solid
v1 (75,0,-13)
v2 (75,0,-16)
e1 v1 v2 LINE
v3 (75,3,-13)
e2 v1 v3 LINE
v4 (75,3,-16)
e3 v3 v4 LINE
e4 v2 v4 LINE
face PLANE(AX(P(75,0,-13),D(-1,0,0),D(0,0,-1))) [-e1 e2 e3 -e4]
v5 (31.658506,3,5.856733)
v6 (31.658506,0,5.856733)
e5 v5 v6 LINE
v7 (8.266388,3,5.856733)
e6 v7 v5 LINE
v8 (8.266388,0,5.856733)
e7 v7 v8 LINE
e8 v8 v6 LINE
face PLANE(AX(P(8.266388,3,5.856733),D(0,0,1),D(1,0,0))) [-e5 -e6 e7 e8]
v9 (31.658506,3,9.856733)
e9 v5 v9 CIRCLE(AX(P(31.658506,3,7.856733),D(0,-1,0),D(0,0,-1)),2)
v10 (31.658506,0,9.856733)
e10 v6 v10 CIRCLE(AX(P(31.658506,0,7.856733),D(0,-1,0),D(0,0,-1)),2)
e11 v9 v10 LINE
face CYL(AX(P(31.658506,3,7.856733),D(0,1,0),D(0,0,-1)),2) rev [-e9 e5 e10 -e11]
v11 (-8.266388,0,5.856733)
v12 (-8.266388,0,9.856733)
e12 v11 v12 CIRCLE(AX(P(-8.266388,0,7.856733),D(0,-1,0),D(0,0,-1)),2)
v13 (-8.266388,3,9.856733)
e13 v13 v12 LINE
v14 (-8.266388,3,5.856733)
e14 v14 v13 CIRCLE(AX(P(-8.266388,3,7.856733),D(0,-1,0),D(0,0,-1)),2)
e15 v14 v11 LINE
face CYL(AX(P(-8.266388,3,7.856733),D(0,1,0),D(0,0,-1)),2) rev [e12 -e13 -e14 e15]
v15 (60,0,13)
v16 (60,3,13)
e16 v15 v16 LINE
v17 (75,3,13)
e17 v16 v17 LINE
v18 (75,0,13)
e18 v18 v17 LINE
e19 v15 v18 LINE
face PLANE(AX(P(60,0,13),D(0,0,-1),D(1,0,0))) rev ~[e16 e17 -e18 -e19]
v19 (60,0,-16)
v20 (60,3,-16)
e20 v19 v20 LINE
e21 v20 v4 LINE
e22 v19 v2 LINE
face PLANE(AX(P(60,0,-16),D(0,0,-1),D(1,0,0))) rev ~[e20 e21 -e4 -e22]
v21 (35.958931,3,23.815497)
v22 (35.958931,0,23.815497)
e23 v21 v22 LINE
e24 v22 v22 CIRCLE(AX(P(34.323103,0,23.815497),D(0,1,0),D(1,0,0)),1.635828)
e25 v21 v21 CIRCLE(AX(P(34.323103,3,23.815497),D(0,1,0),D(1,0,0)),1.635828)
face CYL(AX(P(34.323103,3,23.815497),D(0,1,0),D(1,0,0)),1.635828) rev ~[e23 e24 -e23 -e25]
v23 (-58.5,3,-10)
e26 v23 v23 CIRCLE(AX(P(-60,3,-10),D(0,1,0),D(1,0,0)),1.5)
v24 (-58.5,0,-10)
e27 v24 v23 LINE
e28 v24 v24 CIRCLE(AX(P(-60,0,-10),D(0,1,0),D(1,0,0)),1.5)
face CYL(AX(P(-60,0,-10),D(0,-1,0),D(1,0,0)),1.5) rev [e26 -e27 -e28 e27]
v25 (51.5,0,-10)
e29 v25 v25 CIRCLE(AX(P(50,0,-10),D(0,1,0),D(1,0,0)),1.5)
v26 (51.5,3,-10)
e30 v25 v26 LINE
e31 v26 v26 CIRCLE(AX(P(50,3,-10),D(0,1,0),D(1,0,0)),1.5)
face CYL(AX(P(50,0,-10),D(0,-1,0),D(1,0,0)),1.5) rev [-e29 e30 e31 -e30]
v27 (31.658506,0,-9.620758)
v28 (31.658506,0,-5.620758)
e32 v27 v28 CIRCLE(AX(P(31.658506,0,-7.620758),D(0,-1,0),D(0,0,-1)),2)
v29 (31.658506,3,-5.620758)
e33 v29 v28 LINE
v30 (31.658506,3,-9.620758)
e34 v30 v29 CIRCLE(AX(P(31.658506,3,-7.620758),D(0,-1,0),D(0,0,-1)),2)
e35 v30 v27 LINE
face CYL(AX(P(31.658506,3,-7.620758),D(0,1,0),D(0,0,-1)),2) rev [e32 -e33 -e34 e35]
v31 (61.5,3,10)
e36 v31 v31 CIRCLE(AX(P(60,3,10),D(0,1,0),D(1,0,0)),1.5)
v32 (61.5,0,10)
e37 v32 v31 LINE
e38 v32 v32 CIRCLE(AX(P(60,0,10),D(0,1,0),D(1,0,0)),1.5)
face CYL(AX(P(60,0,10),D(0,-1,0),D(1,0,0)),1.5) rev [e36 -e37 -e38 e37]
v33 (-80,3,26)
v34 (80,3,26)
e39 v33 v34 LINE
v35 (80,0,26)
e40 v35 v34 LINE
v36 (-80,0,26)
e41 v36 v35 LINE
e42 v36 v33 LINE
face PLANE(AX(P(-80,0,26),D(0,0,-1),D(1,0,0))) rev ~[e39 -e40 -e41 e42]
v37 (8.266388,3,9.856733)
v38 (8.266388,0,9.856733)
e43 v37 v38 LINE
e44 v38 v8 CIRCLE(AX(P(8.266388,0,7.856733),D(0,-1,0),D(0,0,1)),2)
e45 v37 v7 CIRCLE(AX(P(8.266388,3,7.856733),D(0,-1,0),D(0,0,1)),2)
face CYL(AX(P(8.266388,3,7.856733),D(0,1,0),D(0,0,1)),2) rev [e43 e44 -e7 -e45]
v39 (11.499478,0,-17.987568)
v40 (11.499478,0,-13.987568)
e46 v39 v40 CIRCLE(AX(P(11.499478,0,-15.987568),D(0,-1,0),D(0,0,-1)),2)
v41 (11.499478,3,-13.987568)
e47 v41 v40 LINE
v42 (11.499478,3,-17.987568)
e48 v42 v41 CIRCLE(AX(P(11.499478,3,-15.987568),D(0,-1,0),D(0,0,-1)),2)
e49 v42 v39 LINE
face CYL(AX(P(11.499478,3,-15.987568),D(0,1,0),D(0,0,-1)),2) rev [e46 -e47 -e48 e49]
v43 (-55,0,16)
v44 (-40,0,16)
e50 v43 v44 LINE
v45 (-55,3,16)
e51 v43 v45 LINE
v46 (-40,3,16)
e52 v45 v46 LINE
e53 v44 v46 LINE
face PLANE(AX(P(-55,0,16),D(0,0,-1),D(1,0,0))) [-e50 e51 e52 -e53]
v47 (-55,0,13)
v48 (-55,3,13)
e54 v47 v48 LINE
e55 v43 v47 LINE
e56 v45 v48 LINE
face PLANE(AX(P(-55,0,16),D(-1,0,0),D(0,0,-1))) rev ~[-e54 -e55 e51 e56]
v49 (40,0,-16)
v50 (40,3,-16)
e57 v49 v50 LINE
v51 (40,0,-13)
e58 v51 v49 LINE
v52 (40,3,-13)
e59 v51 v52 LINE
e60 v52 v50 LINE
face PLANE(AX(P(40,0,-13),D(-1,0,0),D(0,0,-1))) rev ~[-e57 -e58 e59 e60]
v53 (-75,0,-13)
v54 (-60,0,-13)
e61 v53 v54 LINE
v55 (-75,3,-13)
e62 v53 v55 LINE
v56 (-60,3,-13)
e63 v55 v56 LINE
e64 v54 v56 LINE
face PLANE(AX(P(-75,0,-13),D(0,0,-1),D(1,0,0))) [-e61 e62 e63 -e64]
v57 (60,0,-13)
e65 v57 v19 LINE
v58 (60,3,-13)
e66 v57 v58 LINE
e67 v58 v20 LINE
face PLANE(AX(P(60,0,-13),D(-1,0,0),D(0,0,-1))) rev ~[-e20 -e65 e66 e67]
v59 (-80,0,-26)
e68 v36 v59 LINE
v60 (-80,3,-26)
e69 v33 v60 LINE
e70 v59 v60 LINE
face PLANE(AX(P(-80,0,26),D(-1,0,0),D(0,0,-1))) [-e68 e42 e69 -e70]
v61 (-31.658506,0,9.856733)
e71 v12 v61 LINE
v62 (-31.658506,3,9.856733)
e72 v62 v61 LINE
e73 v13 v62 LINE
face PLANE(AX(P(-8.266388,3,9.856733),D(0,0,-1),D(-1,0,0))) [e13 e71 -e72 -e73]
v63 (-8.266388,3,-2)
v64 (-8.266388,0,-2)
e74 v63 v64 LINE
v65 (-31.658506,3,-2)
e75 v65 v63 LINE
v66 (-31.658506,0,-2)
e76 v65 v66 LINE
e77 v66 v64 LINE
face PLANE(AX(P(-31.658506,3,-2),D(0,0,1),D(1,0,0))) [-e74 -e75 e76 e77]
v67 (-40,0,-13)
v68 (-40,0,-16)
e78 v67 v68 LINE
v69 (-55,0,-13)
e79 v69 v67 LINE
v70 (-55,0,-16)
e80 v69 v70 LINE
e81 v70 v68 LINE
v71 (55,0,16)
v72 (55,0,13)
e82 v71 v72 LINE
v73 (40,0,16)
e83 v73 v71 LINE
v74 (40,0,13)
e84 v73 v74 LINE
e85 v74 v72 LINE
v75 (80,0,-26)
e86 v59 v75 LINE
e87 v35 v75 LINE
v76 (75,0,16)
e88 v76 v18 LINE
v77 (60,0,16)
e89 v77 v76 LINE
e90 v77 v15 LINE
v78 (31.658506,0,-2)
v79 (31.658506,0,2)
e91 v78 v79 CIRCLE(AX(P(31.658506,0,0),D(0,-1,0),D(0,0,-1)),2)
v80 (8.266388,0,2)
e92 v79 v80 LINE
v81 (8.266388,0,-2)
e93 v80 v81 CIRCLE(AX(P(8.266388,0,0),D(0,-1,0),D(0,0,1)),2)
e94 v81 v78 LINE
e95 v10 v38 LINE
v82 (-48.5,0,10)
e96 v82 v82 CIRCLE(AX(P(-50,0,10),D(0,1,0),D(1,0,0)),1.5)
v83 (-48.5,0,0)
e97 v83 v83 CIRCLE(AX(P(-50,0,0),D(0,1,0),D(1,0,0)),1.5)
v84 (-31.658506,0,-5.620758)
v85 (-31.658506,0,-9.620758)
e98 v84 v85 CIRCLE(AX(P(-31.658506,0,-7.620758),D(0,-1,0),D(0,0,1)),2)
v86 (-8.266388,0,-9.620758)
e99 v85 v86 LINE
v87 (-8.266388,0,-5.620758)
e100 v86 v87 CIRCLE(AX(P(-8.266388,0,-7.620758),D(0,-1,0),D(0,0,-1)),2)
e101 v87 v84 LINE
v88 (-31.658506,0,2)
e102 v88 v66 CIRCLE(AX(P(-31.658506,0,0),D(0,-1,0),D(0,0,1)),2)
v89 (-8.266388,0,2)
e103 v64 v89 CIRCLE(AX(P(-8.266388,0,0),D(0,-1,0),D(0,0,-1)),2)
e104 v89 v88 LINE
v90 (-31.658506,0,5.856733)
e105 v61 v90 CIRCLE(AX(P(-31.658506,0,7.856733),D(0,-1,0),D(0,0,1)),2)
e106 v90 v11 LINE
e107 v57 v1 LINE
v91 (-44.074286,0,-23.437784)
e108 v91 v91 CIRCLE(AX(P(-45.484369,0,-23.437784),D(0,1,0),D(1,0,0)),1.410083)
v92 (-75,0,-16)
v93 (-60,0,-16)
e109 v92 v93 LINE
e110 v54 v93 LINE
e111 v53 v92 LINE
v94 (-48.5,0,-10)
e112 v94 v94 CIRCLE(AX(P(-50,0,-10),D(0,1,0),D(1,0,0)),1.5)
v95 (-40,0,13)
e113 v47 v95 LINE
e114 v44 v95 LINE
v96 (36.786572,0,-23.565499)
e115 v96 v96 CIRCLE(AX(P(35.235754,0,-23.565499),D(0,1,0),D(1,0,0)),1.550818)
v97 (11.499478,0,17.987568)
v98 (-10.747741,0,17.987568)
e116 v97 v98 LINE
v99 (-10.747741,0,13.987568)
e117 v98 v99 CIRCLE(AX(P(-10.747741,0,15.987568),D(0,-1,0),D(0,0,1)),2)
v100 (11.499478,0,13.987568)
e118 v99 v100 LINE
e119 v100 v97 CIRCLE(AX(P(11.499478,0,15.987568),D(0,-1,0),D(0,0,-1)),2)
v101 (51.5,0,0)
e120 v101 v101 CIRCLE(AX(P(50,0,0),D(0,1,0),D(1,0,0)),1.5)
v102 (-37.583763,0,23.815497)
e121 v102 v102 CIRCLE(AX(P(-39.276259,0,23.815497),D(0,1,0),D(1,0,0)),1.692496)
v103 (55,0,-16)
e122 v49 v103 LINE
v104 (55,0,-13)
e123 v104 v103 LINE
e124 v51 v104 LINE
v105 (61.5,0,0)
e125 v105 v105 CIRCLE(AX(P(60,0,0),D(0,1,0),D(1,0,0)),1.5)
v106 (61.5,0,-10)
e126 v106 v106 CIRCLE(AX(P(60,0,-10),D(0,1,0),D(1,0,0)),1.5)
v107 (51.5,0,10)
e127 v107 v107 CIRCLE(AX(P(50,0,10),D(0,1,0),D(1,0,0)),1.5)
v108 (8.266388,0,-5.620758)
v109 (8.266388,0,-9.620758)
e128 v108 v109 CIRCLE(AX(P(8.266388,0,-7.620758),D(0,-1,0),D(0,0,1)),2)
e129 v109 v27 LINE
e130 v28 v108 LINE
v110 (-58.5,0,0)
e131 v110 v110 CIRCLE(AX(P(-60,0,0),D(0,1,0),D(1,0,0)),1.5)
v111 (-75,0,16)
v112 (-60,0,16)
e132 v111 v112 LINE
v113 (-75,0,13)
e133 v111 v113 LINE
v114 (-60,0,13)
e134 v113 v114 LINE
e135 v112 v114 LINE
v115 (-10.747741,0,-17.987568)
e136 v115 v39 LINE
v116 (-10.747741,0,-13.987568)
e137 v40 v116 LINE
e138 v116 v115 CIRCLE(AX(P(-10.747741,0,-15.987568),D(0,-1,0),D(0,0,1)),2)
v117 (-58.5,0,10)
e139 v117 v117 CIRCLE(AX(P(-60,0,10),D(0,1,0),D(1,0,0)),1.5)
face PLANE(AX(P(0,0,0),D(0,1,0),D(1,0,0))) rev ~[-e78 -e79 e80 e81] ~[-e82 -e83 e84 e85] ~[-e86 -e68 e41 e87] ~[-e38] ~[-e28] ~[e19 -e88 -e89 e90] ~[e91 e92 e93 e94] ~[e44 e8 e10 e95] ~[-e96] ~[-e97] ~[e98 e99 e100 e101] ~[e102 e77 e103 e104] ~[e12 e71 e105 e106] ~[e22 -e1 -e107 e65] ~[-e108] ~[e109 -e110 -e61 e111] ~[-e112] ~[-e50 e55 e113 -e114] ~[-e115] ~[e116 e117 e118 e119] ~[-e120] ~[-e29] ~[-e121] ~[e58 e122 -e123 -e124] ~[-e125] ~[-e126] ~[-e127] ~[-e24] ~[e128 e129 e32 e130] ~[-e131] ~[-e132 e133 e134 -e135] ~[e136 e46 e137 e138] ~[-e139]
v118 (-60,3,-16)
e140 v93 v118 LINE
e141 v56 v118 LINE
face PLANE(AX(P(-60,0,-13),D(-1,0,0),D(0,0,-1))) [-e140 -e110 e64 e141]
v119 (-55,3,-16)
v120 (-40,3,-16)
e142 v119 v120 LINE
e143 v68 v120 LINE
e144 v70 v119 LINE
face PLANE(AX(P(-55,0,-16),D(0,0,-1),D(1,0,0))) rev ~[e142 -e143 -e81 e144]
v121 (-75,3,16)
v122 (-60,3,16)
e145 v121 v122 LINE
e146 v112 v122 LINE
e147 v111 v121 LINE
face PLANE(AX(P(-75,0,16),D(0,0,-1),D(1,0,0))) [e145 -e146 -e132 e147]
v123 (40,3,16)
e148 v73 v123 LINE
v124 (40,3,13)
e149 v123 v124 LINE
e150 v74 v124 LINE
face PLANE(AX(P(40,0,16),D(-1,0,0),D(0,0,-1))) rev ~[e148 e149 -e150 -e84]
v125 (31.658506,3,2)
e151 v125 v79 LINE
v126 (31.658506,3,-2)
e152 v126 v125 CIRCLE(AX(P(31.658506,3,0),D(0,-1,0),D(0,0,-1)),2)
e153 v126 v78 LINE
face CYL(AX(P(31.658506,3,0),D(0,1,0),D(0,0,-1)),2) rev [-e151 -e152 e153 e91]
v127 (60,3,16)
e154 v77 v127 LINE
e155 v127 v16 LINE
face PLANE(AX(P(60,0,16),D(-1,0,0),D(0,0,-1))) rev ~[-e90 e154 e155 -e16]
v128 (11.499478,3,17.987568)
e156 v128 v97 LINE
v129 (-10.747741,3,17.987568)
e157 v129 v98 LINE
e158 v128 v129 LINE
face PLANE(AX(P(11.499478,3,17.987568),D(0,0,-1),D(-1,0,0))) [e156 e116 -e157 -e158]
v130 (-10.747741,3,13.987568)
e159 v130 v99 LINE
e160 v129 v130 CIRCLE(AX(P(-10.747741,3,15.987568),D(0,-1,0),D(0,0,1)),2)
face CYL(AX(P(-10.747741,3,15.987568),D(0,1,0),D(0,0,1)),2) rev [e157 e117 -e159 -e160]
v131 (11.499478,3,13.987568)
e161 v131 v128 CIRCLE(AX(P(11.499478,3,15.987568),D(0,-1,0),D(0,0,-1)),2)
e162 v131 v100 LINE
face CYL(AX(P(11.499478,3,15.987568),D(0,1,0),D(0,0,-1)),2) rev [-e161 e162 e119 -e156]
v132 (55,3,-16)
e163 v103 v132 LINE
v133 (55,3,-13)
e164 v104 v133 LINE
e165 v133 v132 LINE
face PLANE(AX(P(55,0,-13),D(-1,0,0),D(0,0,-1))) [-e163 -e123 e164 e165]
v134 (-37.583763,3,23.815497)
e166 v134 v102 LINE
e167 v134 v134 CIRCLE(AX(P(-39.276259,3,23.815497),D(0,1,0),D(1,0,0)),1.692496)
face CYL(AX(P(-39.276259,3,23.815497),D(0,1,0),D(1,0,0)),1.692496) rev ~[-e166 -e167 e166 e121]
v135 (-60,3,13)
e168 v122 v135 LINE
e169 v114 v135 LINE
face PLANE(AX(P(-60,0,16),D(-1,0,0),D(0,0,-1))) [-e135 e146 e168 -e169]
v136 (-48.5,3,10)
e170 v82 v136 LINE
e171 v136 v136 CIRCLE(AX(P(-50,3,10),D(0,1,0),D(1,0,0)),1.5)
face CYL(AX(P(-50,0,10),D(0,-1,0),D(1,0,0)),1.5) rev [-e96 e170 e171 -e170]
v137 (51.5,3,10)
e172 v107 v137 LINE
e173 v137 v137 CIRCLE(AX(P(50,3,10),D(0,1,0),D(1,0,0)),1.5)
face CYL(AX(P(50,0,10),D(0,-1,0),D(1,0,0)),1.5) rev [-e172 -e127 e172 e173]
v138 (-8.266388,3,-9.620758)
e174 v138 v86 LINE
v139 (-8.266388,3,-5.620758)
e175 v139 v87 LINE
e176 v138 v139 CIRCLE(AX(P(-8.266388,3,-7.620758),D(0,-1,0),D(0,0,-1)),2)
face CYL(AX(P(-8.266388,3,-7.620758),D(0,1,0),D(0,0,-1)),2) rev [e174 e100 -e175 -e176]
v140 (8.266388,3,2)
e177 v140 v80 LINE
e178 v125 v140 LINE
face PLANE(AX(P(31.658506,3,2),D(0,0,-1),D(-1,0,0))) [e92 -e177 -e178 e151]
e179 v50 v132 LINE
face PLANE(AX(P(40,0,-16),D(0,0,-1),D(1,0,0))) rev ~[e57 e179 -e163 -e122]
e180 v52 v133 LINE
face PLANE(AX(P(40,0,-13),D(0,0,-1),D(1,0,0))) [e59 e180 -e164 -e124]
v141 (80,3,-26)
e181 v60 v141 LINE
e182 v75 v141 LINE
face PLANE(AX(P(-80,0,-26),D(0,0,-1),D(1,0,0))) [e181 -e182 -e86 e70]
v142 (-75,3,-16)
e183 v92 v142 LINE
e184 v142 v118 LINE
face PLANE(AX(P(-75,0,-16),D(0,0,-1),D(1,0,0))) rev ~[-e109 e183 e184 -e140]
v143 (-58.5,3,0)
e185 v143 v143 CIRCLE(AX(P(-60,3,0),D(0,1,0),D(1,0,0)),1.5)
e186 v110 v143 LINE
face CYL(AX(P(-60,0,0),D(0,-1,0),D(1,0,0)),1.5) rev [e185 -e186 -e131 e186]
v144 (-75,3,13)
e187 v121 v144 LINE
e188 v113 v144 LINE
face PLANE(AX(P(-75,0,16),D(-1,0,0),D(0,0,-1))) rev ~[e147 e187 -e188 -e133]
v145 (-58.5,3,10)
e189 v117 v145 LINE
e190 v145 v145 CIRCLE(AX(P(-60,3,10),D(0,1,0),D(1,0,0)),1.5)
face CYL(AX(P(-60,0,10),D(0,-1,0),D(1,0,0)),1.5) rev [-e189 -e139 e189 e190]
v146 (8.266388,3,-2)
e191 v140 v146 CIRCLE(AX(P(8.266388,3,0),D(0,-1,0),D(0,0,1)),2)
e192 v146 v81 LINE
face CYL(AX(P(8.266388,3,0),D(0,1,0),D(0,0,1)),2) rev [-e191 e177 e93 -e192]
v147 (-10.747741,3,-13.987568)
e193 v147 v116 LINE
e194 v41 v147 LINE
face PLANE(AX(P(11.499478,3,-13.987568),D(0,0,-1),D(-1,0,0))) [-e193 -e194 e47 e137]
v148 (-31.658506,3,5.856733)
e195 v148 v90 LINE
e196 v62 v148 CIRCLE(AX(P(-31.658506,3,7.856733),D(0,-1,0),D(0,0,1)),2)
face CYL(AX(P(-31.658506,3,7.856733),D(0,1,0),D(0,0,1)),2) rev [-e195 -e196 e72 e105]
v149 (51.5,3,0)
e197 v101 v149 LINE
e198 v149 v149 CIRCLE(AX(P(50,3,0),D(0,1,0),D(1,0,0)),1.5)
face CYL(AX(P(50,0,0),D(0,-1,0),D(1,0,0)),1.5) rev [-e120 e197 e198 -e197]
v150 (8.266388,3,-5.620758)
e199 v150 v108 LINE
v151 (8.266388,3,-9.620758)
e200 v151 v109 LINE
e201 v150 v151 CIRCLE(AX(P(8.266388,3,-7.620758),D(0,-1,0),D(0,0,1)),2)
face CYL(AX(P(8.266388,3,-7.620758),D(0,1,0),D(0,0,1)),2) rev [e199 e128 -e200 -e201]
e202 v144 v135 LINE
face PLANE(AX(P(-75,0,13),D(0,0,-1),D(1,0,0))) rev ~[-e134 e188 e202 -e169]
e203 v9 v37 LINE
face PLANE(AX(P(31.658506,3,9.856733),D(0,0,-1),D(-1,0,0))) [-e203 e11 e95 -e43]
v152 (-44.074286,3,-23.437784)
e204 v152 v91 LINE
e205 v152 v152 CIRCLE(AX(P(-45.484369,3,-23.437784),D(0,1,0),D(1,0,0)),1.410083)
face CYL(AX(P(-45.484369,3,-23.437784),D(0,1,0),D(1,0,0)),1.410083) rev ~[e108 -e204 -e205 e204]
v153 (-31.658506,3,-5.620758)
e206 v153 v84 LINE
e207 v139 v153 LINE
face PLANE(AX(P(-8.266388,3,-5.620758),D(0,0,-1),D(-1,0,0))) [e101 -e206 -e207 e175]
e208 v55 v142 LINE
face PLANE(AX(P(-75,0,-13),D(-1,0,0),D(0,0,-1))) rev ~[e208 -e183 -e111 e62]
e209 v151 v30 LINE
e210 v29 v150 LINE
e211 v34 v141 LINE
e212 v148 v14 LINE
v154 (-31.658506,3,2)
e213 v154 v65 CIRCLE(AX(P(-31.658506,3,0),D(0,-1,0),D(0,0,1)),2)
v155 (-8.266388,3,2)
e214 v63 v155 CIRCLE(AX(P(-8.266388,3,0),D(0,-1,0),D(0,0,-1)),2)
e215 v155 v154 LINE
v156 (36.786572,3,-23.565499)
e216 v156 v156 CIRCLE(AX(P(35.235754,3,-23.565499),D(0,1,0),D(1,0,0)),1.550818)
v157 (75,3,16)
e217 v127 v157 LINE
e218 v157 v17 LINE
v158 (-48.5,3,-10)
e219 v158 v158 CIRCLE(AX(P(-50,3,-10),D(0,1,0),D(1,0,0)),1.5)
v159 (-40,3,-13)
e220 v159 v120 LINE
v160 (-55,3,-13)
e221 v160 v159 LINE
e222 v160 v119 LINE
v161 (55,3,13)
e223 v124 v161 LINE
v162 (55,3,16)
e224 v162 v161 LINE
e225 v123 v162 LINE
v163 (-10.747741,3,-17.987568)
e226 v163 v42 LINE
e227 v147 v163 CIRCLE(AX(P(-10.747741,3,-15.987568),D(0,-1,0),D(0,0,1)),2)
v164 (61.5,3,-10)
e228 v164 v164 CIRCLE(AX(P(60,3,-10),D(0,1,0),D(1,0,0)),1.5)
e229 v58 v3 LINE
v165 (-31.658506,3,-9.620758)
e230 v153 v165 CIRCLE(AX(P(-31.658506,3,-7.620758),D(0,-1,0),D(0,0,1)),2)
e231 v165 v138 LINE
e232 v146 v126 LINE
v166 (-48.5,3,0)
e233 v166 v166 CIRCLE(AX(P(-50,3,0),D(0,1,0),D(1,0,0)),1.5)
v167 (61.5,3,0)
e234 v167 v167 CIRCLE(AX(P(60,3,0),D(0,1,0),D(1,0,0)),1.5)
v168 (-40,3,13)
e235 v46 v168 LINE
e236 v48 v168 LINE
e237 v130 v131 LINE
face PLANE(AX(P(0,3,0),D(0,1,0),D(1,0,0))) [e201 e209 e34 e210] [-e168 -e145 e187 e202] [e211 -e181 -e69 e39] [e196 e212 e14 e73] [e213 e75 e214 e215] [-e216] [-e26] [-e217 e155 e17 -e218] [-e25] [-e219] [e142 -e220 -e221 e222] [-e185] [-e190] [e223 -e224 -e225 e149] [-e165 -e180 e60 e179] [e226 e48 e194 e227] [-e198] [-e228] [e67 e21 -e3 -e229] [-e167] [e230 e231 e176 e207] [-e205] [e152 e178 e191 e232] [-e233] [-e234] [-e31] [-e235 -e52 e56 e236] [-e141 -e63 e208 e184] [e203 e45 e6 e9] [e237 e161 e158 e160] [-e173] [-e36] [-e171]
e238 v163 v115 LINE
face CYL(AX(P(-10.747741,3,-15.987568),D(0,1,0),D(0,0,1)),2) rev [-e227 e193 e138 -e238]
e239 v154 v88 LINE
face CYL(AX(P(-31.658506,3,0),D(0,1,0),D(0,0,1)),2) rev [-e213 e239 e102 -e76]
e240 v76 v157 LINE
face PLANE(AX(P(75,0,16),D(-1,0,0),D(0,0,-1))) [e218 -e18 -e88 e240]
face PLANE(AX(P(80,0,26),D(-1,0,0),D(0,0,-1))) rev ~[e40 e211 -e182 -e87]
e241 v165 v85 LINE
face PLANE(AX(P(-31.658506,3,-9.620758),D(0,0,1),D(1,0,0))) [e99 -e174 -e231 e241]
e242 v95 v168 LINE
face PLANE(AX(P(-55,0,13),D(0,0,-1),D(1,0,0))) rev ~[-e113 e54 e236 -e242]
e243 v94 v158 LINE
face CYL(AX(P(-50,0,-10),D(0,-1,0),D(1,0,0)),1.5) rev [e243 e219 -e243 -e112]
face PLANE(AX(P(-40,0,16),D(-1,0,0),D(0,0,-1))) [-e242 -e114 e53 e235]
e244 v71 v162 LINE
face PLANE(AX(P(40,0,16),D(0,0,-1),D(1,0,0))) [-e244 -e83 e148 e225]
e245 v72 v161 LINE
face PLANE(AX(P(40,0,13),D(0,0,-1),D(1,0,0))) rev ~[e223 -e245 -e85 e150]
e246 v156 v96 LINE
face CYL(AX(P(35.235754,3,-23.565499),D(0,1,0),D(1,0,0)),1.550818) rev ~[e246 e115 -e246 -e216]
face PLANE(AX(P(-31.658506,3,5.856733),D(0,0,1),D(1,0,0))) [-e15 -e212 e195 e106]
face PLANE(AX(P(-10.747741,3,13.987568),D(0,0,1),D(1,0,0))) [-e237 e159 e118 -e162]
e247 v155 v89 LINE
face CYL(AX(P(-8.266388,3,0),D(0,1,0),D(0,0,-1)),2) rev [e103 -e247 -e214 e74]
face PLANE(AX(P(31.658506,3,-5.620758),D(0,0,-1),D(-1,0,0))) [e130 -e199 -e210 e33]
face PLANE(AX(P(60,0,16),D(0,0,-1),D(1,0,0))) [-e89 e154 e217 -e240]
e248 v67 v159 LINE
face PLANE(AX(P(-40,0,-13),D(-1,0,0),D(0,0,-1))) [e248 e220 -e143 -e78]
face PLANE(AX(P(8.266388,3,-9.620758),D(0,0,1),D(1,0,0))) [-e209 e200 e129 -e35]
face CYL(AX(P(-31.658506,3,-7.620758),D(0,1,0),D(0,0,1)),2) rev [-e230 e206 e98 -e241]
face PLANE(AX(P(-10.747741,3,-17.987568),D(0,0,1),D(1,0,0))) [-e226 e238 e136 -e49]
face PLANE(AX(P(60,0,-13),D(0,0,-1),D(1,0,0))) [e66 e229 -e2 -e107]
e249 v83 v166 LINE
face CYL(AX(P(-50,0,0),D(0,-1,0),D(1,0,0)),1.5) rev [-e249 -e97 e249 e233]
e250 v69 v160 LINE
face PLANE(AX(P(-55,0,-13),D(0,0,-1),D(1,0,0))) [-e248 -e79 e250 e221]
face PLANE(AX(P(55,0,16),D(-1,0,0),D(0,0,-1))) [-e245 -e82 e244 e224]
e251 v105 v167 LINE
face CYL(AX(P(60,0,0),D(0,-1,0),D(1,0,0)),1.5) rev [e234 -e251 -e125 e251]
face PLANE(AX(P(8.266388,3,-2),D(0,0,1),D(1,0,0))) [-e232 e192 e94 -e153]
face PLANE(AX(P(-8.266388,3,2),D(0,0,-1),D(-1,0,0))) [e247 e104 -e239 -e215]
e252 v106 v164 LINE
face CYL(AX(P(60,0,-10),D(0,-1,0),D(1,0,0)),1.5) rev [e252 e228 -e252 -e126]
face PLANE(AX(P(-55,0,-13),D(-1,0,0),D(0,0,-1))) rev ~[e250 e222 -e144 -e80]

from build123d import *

# Parameters (mm, degrees)
SKETCH1_W           = 160
SKETCH1_H           = 52
SKETCH1_R           = 1.5
SKETCH1_W_2         = 15
SKETCH1_H_2         = 3
BOSS_EXTRUDE1_DEPTH = 3
CUT_EXTRUDE1_DEPTH  = 3
SKETCH3_R           = 1.63582752
SKETCH3_R_2         = 1.692495787
SKETCH3_R_3         = 1.410083192
SKETCH3_R_4         = 1.550817753
CUT_EXTRUDE2_DEPTH  = 10


with BuildPart() as part:
    # Sketch1 → Boss-Extrude1 (new body)
    with BuildSketch(Plane(origin=(0, 0, 0), x_dir=(1, 0, 0), z_dir=(0, 1, 0))):
        Rectangle(SKETCH1_W, SKETCH1_H)
        with Locations((50, 10)):
            Circle(SKETCH1_R, mode=Mode.SUBTRACT)
        with Locations((60, 10)):
            Circle(SKETCH1_R, mode=Mode.SUBTRACT)
        with Locations((60, 0)):
            Circle(SKETCH1_R, mode=Mode.SUBTRACT)
        with Locations((50, 0)):
            Circle(SKETCH1_R, mode=Mode.SUBTRACT)
        with Locations((50, -10)):
            Circle(SKETCH1_R, mode=Mode.SUBTRACT)
        with Locations((60, -10)):
            Circle(SKETCH1_R, mode=Mode.SUBTRACT)
        with Locations((-60, -10)):
            Circle(SKETCH1_R, mode=Mode.SUBTRACT)
        with Locations((-50, -10)):
            Circle(SKETCH1_R, mode=Mode.SUBTRACT)
        with Locations((-50, 0)):
            Circle(SKETCH1_R, mode=Mode.SUBTRACT)
        with Locations((-60, 0)):
            Circle(SKETCH1_R, mode=Mode.SUBTRACT)
        with Locations((-60, 10)):
            Circle(SKETCH1_R, mode=Mode.SUBTRACT)
        with Locations((-50, 10)):
            Circle(SKETCH1_R, mode=Mode.SUBTRACT)
        with Locations((67.5, 14.5)):
            Rectangle(SKETCH1_W_2, SKETCH1_H_2, mode=Mode.SUBTRACT)
        with Locations((47.5, 14.5)):
            Rectangle(SKETCH1_W_2, SKETCH1_H_2, mode=Mode.SUBTRACT)
        with Locations((67.5, -14.5)):
            Rectangle(SKETCH1_W_2, SKETCH1_H_2, mode=Mode.SUBTRACT)
        with Locations((47.5, -14.5)):
            Rectangle(SKETCH1_W_2, SKETCH1_H_2, mode=Mode.SUBTRACT)
        with Locations((-47.5, -14.5)):
            Rectangle(SKETCH1_W_2, SKETCH1_H_2, mode=Mode.SUBTRACT)
        with Locations((-67.5, -14.5)):
            Rectangle(SKETCH1_W_2, SKETCH1_H_2, mode=Mode.SUBTRACT)
        with Locations((-47.5, 14.5)):
            Rectangle(SKETCH1_W_2, SKETCH1_H_2, mode=Mode.SUBTRACT)
        with Locations((-67.5, 14.5)):
            Rectangle(SKETCH1_W_2, SKETCH1_H_2, mode=Mode.SUBTRACT)
    extrude(amount=BOSS_EXTRUDE1_DEPTH)

    # Sketch2 → Cut-Extrude1 (cut)
    with BuildSketch(Plane(origin=(0, 3, 0), x_dir=(1, 0, 0), z_dir=(0, 1, 0))):
        with BuildLine():
            Line((-31.658505885, 2), (-8.266387648, 2))
            ThreePointArc((-8.266387648, 2), (-6.266387648, 0), (-8.266387648, -2))
            Line((-8.266387648, -2), (-31.658505885, -2))
            ThreePointArc((-31.658505885, -2), (-33.658505885, 0), (-31.658505885, 2))
        make_face()
        with BuildLine():
            Line((31.658505885, -9.856733432), (8.266387648, -9.856733432))
            ThreePointArc((8.266387648, -9.856733432), (6.266387648, -7.856733432), (8.266387648, -5.856733432))
            Line((8.266387648, -5.856733432), (31.658505885, -5.856733432))
            ThreePointArc((31.658505885, -5.856733432), (33.658505885, -7.856733432), (31.658505885, -9.856733432))
        make_face()
        with BuildLine():
            Line((-10.747740664, 17.987567994), (11.499478158, 17.987567994))
            ThreePointArc((11.499478158, 17.987567994), (13.499478158, 15.987567994), (11.499478158, 13.987567994))
            Line((11.499478158, 13.987567994), (-10.747740664, 13.987567994))
            ThreePointArc((-10.747740664, 13.987567994), (-12.747740664, 15.987567994), (-10.747740664, 17.987567994))
        make_face()
        with BuildLine():
            Line((-31.658505885, 9.620758334), (-8.266387648, 9.620758334))
            ThreePointArc((-8.266387648, 9.620758334), (-6.266387648, 7.620758334), (-8.266387648, 5.620758334))
            Line((-8.266387648, 5.620758334), (-31.658505885, 5.620758334))
            ThreePointArc((-31.658505885, 5.620758334), (-33.658505885, 7.620758334), (-31.658505885, 9.620758334))
        make_face()
        with BuildLine():
            Line((31.658505885, 5.620758334), (8.266387648, 5.620758334))
            ThreePointArc((8.266387648, 5.620758334), (6.266387648, 7.620758334), (8.266387648, 9.620758334))
            Line((8.266387648, 9.620758334), (31.658505885, 9.620758334))
            ThreePointArc((31.658505885, 9.620758334), (33.658505885, 7.620758334), (31.658505885, 5.620758334))
        make_face()
        with BuildLine():
            Line((-31.658505885, -5.856733432), (-8.266387648, -5.856733432))
            ThreePointArc((-8.266387648, -5.856733432), (-6.266387648, -7.856733432), (-8.266387648, -9.856733432))
            Line((-8.266387648, -9.856733432), (-31.658505885, -9.856733432))
            ThreePointArc((-31.658505885, -9.856733432), (-33.658505885, -7.856733432), (-31.658505885, -5.856733432))
        make_face()
        with BuildLine():
            Line((31.658505885, -2), (8.266387648, -2))
            ThreePointArc((8.266387648, -2), (6.266387648, 0), (8.266387648, 2))
            Line((8.266387648, 2), (31.658505885, 2))
            ThreePointArc((31.658505885, 2), (33.658505885, 0), (31.658505885, -2))
        make_face()
        with BuildLine():
            Line((-10.747740664, -13.987567994), (11.499478158, -13.987567994))
            ThreePointArc((11.499478158, -13.987567994), (13.499478158, -15.987567994), (11.499478158, -17.987567994))
            Line((11.499478158, -17.987567994), (-10.747740664, -17.987567994))
            ThreePointArc((-10.747740664, -17.987567994), (-12.747740664, -15.987567994), (-10.747740664, -13.987567994))
        make_face()
    extrude(amount=-CUT_EXTRUDE1_DEPTH, mode=Mode.SUBTRACT)

    # Sketch3 → Cut-Extrude2 (cut)
    with BuildSketch(Plane(origin=(0, 3, 0), x_dir=(1, 0, 0), z_dir=(0, 1, 0))):
        with Locations((34.323103301, -23.81549711)):
            Circle(SKETCH3_R)
        with Locations((-39.276258797, -23.81549711)):
            Circle(SKETCH3_R_2)
        with Locations((-45.484369153, 23.437784188)):
            Circle(SKETCH3_R_3)
        with Locations((35.235754497, 23.565498985)):
            Circle(SKETCH3_R_4)
    extrude(amount=-CUT_EXTRUDE2_DEPTH, mode=Mode.SUBTRACT)


solid = part.part
